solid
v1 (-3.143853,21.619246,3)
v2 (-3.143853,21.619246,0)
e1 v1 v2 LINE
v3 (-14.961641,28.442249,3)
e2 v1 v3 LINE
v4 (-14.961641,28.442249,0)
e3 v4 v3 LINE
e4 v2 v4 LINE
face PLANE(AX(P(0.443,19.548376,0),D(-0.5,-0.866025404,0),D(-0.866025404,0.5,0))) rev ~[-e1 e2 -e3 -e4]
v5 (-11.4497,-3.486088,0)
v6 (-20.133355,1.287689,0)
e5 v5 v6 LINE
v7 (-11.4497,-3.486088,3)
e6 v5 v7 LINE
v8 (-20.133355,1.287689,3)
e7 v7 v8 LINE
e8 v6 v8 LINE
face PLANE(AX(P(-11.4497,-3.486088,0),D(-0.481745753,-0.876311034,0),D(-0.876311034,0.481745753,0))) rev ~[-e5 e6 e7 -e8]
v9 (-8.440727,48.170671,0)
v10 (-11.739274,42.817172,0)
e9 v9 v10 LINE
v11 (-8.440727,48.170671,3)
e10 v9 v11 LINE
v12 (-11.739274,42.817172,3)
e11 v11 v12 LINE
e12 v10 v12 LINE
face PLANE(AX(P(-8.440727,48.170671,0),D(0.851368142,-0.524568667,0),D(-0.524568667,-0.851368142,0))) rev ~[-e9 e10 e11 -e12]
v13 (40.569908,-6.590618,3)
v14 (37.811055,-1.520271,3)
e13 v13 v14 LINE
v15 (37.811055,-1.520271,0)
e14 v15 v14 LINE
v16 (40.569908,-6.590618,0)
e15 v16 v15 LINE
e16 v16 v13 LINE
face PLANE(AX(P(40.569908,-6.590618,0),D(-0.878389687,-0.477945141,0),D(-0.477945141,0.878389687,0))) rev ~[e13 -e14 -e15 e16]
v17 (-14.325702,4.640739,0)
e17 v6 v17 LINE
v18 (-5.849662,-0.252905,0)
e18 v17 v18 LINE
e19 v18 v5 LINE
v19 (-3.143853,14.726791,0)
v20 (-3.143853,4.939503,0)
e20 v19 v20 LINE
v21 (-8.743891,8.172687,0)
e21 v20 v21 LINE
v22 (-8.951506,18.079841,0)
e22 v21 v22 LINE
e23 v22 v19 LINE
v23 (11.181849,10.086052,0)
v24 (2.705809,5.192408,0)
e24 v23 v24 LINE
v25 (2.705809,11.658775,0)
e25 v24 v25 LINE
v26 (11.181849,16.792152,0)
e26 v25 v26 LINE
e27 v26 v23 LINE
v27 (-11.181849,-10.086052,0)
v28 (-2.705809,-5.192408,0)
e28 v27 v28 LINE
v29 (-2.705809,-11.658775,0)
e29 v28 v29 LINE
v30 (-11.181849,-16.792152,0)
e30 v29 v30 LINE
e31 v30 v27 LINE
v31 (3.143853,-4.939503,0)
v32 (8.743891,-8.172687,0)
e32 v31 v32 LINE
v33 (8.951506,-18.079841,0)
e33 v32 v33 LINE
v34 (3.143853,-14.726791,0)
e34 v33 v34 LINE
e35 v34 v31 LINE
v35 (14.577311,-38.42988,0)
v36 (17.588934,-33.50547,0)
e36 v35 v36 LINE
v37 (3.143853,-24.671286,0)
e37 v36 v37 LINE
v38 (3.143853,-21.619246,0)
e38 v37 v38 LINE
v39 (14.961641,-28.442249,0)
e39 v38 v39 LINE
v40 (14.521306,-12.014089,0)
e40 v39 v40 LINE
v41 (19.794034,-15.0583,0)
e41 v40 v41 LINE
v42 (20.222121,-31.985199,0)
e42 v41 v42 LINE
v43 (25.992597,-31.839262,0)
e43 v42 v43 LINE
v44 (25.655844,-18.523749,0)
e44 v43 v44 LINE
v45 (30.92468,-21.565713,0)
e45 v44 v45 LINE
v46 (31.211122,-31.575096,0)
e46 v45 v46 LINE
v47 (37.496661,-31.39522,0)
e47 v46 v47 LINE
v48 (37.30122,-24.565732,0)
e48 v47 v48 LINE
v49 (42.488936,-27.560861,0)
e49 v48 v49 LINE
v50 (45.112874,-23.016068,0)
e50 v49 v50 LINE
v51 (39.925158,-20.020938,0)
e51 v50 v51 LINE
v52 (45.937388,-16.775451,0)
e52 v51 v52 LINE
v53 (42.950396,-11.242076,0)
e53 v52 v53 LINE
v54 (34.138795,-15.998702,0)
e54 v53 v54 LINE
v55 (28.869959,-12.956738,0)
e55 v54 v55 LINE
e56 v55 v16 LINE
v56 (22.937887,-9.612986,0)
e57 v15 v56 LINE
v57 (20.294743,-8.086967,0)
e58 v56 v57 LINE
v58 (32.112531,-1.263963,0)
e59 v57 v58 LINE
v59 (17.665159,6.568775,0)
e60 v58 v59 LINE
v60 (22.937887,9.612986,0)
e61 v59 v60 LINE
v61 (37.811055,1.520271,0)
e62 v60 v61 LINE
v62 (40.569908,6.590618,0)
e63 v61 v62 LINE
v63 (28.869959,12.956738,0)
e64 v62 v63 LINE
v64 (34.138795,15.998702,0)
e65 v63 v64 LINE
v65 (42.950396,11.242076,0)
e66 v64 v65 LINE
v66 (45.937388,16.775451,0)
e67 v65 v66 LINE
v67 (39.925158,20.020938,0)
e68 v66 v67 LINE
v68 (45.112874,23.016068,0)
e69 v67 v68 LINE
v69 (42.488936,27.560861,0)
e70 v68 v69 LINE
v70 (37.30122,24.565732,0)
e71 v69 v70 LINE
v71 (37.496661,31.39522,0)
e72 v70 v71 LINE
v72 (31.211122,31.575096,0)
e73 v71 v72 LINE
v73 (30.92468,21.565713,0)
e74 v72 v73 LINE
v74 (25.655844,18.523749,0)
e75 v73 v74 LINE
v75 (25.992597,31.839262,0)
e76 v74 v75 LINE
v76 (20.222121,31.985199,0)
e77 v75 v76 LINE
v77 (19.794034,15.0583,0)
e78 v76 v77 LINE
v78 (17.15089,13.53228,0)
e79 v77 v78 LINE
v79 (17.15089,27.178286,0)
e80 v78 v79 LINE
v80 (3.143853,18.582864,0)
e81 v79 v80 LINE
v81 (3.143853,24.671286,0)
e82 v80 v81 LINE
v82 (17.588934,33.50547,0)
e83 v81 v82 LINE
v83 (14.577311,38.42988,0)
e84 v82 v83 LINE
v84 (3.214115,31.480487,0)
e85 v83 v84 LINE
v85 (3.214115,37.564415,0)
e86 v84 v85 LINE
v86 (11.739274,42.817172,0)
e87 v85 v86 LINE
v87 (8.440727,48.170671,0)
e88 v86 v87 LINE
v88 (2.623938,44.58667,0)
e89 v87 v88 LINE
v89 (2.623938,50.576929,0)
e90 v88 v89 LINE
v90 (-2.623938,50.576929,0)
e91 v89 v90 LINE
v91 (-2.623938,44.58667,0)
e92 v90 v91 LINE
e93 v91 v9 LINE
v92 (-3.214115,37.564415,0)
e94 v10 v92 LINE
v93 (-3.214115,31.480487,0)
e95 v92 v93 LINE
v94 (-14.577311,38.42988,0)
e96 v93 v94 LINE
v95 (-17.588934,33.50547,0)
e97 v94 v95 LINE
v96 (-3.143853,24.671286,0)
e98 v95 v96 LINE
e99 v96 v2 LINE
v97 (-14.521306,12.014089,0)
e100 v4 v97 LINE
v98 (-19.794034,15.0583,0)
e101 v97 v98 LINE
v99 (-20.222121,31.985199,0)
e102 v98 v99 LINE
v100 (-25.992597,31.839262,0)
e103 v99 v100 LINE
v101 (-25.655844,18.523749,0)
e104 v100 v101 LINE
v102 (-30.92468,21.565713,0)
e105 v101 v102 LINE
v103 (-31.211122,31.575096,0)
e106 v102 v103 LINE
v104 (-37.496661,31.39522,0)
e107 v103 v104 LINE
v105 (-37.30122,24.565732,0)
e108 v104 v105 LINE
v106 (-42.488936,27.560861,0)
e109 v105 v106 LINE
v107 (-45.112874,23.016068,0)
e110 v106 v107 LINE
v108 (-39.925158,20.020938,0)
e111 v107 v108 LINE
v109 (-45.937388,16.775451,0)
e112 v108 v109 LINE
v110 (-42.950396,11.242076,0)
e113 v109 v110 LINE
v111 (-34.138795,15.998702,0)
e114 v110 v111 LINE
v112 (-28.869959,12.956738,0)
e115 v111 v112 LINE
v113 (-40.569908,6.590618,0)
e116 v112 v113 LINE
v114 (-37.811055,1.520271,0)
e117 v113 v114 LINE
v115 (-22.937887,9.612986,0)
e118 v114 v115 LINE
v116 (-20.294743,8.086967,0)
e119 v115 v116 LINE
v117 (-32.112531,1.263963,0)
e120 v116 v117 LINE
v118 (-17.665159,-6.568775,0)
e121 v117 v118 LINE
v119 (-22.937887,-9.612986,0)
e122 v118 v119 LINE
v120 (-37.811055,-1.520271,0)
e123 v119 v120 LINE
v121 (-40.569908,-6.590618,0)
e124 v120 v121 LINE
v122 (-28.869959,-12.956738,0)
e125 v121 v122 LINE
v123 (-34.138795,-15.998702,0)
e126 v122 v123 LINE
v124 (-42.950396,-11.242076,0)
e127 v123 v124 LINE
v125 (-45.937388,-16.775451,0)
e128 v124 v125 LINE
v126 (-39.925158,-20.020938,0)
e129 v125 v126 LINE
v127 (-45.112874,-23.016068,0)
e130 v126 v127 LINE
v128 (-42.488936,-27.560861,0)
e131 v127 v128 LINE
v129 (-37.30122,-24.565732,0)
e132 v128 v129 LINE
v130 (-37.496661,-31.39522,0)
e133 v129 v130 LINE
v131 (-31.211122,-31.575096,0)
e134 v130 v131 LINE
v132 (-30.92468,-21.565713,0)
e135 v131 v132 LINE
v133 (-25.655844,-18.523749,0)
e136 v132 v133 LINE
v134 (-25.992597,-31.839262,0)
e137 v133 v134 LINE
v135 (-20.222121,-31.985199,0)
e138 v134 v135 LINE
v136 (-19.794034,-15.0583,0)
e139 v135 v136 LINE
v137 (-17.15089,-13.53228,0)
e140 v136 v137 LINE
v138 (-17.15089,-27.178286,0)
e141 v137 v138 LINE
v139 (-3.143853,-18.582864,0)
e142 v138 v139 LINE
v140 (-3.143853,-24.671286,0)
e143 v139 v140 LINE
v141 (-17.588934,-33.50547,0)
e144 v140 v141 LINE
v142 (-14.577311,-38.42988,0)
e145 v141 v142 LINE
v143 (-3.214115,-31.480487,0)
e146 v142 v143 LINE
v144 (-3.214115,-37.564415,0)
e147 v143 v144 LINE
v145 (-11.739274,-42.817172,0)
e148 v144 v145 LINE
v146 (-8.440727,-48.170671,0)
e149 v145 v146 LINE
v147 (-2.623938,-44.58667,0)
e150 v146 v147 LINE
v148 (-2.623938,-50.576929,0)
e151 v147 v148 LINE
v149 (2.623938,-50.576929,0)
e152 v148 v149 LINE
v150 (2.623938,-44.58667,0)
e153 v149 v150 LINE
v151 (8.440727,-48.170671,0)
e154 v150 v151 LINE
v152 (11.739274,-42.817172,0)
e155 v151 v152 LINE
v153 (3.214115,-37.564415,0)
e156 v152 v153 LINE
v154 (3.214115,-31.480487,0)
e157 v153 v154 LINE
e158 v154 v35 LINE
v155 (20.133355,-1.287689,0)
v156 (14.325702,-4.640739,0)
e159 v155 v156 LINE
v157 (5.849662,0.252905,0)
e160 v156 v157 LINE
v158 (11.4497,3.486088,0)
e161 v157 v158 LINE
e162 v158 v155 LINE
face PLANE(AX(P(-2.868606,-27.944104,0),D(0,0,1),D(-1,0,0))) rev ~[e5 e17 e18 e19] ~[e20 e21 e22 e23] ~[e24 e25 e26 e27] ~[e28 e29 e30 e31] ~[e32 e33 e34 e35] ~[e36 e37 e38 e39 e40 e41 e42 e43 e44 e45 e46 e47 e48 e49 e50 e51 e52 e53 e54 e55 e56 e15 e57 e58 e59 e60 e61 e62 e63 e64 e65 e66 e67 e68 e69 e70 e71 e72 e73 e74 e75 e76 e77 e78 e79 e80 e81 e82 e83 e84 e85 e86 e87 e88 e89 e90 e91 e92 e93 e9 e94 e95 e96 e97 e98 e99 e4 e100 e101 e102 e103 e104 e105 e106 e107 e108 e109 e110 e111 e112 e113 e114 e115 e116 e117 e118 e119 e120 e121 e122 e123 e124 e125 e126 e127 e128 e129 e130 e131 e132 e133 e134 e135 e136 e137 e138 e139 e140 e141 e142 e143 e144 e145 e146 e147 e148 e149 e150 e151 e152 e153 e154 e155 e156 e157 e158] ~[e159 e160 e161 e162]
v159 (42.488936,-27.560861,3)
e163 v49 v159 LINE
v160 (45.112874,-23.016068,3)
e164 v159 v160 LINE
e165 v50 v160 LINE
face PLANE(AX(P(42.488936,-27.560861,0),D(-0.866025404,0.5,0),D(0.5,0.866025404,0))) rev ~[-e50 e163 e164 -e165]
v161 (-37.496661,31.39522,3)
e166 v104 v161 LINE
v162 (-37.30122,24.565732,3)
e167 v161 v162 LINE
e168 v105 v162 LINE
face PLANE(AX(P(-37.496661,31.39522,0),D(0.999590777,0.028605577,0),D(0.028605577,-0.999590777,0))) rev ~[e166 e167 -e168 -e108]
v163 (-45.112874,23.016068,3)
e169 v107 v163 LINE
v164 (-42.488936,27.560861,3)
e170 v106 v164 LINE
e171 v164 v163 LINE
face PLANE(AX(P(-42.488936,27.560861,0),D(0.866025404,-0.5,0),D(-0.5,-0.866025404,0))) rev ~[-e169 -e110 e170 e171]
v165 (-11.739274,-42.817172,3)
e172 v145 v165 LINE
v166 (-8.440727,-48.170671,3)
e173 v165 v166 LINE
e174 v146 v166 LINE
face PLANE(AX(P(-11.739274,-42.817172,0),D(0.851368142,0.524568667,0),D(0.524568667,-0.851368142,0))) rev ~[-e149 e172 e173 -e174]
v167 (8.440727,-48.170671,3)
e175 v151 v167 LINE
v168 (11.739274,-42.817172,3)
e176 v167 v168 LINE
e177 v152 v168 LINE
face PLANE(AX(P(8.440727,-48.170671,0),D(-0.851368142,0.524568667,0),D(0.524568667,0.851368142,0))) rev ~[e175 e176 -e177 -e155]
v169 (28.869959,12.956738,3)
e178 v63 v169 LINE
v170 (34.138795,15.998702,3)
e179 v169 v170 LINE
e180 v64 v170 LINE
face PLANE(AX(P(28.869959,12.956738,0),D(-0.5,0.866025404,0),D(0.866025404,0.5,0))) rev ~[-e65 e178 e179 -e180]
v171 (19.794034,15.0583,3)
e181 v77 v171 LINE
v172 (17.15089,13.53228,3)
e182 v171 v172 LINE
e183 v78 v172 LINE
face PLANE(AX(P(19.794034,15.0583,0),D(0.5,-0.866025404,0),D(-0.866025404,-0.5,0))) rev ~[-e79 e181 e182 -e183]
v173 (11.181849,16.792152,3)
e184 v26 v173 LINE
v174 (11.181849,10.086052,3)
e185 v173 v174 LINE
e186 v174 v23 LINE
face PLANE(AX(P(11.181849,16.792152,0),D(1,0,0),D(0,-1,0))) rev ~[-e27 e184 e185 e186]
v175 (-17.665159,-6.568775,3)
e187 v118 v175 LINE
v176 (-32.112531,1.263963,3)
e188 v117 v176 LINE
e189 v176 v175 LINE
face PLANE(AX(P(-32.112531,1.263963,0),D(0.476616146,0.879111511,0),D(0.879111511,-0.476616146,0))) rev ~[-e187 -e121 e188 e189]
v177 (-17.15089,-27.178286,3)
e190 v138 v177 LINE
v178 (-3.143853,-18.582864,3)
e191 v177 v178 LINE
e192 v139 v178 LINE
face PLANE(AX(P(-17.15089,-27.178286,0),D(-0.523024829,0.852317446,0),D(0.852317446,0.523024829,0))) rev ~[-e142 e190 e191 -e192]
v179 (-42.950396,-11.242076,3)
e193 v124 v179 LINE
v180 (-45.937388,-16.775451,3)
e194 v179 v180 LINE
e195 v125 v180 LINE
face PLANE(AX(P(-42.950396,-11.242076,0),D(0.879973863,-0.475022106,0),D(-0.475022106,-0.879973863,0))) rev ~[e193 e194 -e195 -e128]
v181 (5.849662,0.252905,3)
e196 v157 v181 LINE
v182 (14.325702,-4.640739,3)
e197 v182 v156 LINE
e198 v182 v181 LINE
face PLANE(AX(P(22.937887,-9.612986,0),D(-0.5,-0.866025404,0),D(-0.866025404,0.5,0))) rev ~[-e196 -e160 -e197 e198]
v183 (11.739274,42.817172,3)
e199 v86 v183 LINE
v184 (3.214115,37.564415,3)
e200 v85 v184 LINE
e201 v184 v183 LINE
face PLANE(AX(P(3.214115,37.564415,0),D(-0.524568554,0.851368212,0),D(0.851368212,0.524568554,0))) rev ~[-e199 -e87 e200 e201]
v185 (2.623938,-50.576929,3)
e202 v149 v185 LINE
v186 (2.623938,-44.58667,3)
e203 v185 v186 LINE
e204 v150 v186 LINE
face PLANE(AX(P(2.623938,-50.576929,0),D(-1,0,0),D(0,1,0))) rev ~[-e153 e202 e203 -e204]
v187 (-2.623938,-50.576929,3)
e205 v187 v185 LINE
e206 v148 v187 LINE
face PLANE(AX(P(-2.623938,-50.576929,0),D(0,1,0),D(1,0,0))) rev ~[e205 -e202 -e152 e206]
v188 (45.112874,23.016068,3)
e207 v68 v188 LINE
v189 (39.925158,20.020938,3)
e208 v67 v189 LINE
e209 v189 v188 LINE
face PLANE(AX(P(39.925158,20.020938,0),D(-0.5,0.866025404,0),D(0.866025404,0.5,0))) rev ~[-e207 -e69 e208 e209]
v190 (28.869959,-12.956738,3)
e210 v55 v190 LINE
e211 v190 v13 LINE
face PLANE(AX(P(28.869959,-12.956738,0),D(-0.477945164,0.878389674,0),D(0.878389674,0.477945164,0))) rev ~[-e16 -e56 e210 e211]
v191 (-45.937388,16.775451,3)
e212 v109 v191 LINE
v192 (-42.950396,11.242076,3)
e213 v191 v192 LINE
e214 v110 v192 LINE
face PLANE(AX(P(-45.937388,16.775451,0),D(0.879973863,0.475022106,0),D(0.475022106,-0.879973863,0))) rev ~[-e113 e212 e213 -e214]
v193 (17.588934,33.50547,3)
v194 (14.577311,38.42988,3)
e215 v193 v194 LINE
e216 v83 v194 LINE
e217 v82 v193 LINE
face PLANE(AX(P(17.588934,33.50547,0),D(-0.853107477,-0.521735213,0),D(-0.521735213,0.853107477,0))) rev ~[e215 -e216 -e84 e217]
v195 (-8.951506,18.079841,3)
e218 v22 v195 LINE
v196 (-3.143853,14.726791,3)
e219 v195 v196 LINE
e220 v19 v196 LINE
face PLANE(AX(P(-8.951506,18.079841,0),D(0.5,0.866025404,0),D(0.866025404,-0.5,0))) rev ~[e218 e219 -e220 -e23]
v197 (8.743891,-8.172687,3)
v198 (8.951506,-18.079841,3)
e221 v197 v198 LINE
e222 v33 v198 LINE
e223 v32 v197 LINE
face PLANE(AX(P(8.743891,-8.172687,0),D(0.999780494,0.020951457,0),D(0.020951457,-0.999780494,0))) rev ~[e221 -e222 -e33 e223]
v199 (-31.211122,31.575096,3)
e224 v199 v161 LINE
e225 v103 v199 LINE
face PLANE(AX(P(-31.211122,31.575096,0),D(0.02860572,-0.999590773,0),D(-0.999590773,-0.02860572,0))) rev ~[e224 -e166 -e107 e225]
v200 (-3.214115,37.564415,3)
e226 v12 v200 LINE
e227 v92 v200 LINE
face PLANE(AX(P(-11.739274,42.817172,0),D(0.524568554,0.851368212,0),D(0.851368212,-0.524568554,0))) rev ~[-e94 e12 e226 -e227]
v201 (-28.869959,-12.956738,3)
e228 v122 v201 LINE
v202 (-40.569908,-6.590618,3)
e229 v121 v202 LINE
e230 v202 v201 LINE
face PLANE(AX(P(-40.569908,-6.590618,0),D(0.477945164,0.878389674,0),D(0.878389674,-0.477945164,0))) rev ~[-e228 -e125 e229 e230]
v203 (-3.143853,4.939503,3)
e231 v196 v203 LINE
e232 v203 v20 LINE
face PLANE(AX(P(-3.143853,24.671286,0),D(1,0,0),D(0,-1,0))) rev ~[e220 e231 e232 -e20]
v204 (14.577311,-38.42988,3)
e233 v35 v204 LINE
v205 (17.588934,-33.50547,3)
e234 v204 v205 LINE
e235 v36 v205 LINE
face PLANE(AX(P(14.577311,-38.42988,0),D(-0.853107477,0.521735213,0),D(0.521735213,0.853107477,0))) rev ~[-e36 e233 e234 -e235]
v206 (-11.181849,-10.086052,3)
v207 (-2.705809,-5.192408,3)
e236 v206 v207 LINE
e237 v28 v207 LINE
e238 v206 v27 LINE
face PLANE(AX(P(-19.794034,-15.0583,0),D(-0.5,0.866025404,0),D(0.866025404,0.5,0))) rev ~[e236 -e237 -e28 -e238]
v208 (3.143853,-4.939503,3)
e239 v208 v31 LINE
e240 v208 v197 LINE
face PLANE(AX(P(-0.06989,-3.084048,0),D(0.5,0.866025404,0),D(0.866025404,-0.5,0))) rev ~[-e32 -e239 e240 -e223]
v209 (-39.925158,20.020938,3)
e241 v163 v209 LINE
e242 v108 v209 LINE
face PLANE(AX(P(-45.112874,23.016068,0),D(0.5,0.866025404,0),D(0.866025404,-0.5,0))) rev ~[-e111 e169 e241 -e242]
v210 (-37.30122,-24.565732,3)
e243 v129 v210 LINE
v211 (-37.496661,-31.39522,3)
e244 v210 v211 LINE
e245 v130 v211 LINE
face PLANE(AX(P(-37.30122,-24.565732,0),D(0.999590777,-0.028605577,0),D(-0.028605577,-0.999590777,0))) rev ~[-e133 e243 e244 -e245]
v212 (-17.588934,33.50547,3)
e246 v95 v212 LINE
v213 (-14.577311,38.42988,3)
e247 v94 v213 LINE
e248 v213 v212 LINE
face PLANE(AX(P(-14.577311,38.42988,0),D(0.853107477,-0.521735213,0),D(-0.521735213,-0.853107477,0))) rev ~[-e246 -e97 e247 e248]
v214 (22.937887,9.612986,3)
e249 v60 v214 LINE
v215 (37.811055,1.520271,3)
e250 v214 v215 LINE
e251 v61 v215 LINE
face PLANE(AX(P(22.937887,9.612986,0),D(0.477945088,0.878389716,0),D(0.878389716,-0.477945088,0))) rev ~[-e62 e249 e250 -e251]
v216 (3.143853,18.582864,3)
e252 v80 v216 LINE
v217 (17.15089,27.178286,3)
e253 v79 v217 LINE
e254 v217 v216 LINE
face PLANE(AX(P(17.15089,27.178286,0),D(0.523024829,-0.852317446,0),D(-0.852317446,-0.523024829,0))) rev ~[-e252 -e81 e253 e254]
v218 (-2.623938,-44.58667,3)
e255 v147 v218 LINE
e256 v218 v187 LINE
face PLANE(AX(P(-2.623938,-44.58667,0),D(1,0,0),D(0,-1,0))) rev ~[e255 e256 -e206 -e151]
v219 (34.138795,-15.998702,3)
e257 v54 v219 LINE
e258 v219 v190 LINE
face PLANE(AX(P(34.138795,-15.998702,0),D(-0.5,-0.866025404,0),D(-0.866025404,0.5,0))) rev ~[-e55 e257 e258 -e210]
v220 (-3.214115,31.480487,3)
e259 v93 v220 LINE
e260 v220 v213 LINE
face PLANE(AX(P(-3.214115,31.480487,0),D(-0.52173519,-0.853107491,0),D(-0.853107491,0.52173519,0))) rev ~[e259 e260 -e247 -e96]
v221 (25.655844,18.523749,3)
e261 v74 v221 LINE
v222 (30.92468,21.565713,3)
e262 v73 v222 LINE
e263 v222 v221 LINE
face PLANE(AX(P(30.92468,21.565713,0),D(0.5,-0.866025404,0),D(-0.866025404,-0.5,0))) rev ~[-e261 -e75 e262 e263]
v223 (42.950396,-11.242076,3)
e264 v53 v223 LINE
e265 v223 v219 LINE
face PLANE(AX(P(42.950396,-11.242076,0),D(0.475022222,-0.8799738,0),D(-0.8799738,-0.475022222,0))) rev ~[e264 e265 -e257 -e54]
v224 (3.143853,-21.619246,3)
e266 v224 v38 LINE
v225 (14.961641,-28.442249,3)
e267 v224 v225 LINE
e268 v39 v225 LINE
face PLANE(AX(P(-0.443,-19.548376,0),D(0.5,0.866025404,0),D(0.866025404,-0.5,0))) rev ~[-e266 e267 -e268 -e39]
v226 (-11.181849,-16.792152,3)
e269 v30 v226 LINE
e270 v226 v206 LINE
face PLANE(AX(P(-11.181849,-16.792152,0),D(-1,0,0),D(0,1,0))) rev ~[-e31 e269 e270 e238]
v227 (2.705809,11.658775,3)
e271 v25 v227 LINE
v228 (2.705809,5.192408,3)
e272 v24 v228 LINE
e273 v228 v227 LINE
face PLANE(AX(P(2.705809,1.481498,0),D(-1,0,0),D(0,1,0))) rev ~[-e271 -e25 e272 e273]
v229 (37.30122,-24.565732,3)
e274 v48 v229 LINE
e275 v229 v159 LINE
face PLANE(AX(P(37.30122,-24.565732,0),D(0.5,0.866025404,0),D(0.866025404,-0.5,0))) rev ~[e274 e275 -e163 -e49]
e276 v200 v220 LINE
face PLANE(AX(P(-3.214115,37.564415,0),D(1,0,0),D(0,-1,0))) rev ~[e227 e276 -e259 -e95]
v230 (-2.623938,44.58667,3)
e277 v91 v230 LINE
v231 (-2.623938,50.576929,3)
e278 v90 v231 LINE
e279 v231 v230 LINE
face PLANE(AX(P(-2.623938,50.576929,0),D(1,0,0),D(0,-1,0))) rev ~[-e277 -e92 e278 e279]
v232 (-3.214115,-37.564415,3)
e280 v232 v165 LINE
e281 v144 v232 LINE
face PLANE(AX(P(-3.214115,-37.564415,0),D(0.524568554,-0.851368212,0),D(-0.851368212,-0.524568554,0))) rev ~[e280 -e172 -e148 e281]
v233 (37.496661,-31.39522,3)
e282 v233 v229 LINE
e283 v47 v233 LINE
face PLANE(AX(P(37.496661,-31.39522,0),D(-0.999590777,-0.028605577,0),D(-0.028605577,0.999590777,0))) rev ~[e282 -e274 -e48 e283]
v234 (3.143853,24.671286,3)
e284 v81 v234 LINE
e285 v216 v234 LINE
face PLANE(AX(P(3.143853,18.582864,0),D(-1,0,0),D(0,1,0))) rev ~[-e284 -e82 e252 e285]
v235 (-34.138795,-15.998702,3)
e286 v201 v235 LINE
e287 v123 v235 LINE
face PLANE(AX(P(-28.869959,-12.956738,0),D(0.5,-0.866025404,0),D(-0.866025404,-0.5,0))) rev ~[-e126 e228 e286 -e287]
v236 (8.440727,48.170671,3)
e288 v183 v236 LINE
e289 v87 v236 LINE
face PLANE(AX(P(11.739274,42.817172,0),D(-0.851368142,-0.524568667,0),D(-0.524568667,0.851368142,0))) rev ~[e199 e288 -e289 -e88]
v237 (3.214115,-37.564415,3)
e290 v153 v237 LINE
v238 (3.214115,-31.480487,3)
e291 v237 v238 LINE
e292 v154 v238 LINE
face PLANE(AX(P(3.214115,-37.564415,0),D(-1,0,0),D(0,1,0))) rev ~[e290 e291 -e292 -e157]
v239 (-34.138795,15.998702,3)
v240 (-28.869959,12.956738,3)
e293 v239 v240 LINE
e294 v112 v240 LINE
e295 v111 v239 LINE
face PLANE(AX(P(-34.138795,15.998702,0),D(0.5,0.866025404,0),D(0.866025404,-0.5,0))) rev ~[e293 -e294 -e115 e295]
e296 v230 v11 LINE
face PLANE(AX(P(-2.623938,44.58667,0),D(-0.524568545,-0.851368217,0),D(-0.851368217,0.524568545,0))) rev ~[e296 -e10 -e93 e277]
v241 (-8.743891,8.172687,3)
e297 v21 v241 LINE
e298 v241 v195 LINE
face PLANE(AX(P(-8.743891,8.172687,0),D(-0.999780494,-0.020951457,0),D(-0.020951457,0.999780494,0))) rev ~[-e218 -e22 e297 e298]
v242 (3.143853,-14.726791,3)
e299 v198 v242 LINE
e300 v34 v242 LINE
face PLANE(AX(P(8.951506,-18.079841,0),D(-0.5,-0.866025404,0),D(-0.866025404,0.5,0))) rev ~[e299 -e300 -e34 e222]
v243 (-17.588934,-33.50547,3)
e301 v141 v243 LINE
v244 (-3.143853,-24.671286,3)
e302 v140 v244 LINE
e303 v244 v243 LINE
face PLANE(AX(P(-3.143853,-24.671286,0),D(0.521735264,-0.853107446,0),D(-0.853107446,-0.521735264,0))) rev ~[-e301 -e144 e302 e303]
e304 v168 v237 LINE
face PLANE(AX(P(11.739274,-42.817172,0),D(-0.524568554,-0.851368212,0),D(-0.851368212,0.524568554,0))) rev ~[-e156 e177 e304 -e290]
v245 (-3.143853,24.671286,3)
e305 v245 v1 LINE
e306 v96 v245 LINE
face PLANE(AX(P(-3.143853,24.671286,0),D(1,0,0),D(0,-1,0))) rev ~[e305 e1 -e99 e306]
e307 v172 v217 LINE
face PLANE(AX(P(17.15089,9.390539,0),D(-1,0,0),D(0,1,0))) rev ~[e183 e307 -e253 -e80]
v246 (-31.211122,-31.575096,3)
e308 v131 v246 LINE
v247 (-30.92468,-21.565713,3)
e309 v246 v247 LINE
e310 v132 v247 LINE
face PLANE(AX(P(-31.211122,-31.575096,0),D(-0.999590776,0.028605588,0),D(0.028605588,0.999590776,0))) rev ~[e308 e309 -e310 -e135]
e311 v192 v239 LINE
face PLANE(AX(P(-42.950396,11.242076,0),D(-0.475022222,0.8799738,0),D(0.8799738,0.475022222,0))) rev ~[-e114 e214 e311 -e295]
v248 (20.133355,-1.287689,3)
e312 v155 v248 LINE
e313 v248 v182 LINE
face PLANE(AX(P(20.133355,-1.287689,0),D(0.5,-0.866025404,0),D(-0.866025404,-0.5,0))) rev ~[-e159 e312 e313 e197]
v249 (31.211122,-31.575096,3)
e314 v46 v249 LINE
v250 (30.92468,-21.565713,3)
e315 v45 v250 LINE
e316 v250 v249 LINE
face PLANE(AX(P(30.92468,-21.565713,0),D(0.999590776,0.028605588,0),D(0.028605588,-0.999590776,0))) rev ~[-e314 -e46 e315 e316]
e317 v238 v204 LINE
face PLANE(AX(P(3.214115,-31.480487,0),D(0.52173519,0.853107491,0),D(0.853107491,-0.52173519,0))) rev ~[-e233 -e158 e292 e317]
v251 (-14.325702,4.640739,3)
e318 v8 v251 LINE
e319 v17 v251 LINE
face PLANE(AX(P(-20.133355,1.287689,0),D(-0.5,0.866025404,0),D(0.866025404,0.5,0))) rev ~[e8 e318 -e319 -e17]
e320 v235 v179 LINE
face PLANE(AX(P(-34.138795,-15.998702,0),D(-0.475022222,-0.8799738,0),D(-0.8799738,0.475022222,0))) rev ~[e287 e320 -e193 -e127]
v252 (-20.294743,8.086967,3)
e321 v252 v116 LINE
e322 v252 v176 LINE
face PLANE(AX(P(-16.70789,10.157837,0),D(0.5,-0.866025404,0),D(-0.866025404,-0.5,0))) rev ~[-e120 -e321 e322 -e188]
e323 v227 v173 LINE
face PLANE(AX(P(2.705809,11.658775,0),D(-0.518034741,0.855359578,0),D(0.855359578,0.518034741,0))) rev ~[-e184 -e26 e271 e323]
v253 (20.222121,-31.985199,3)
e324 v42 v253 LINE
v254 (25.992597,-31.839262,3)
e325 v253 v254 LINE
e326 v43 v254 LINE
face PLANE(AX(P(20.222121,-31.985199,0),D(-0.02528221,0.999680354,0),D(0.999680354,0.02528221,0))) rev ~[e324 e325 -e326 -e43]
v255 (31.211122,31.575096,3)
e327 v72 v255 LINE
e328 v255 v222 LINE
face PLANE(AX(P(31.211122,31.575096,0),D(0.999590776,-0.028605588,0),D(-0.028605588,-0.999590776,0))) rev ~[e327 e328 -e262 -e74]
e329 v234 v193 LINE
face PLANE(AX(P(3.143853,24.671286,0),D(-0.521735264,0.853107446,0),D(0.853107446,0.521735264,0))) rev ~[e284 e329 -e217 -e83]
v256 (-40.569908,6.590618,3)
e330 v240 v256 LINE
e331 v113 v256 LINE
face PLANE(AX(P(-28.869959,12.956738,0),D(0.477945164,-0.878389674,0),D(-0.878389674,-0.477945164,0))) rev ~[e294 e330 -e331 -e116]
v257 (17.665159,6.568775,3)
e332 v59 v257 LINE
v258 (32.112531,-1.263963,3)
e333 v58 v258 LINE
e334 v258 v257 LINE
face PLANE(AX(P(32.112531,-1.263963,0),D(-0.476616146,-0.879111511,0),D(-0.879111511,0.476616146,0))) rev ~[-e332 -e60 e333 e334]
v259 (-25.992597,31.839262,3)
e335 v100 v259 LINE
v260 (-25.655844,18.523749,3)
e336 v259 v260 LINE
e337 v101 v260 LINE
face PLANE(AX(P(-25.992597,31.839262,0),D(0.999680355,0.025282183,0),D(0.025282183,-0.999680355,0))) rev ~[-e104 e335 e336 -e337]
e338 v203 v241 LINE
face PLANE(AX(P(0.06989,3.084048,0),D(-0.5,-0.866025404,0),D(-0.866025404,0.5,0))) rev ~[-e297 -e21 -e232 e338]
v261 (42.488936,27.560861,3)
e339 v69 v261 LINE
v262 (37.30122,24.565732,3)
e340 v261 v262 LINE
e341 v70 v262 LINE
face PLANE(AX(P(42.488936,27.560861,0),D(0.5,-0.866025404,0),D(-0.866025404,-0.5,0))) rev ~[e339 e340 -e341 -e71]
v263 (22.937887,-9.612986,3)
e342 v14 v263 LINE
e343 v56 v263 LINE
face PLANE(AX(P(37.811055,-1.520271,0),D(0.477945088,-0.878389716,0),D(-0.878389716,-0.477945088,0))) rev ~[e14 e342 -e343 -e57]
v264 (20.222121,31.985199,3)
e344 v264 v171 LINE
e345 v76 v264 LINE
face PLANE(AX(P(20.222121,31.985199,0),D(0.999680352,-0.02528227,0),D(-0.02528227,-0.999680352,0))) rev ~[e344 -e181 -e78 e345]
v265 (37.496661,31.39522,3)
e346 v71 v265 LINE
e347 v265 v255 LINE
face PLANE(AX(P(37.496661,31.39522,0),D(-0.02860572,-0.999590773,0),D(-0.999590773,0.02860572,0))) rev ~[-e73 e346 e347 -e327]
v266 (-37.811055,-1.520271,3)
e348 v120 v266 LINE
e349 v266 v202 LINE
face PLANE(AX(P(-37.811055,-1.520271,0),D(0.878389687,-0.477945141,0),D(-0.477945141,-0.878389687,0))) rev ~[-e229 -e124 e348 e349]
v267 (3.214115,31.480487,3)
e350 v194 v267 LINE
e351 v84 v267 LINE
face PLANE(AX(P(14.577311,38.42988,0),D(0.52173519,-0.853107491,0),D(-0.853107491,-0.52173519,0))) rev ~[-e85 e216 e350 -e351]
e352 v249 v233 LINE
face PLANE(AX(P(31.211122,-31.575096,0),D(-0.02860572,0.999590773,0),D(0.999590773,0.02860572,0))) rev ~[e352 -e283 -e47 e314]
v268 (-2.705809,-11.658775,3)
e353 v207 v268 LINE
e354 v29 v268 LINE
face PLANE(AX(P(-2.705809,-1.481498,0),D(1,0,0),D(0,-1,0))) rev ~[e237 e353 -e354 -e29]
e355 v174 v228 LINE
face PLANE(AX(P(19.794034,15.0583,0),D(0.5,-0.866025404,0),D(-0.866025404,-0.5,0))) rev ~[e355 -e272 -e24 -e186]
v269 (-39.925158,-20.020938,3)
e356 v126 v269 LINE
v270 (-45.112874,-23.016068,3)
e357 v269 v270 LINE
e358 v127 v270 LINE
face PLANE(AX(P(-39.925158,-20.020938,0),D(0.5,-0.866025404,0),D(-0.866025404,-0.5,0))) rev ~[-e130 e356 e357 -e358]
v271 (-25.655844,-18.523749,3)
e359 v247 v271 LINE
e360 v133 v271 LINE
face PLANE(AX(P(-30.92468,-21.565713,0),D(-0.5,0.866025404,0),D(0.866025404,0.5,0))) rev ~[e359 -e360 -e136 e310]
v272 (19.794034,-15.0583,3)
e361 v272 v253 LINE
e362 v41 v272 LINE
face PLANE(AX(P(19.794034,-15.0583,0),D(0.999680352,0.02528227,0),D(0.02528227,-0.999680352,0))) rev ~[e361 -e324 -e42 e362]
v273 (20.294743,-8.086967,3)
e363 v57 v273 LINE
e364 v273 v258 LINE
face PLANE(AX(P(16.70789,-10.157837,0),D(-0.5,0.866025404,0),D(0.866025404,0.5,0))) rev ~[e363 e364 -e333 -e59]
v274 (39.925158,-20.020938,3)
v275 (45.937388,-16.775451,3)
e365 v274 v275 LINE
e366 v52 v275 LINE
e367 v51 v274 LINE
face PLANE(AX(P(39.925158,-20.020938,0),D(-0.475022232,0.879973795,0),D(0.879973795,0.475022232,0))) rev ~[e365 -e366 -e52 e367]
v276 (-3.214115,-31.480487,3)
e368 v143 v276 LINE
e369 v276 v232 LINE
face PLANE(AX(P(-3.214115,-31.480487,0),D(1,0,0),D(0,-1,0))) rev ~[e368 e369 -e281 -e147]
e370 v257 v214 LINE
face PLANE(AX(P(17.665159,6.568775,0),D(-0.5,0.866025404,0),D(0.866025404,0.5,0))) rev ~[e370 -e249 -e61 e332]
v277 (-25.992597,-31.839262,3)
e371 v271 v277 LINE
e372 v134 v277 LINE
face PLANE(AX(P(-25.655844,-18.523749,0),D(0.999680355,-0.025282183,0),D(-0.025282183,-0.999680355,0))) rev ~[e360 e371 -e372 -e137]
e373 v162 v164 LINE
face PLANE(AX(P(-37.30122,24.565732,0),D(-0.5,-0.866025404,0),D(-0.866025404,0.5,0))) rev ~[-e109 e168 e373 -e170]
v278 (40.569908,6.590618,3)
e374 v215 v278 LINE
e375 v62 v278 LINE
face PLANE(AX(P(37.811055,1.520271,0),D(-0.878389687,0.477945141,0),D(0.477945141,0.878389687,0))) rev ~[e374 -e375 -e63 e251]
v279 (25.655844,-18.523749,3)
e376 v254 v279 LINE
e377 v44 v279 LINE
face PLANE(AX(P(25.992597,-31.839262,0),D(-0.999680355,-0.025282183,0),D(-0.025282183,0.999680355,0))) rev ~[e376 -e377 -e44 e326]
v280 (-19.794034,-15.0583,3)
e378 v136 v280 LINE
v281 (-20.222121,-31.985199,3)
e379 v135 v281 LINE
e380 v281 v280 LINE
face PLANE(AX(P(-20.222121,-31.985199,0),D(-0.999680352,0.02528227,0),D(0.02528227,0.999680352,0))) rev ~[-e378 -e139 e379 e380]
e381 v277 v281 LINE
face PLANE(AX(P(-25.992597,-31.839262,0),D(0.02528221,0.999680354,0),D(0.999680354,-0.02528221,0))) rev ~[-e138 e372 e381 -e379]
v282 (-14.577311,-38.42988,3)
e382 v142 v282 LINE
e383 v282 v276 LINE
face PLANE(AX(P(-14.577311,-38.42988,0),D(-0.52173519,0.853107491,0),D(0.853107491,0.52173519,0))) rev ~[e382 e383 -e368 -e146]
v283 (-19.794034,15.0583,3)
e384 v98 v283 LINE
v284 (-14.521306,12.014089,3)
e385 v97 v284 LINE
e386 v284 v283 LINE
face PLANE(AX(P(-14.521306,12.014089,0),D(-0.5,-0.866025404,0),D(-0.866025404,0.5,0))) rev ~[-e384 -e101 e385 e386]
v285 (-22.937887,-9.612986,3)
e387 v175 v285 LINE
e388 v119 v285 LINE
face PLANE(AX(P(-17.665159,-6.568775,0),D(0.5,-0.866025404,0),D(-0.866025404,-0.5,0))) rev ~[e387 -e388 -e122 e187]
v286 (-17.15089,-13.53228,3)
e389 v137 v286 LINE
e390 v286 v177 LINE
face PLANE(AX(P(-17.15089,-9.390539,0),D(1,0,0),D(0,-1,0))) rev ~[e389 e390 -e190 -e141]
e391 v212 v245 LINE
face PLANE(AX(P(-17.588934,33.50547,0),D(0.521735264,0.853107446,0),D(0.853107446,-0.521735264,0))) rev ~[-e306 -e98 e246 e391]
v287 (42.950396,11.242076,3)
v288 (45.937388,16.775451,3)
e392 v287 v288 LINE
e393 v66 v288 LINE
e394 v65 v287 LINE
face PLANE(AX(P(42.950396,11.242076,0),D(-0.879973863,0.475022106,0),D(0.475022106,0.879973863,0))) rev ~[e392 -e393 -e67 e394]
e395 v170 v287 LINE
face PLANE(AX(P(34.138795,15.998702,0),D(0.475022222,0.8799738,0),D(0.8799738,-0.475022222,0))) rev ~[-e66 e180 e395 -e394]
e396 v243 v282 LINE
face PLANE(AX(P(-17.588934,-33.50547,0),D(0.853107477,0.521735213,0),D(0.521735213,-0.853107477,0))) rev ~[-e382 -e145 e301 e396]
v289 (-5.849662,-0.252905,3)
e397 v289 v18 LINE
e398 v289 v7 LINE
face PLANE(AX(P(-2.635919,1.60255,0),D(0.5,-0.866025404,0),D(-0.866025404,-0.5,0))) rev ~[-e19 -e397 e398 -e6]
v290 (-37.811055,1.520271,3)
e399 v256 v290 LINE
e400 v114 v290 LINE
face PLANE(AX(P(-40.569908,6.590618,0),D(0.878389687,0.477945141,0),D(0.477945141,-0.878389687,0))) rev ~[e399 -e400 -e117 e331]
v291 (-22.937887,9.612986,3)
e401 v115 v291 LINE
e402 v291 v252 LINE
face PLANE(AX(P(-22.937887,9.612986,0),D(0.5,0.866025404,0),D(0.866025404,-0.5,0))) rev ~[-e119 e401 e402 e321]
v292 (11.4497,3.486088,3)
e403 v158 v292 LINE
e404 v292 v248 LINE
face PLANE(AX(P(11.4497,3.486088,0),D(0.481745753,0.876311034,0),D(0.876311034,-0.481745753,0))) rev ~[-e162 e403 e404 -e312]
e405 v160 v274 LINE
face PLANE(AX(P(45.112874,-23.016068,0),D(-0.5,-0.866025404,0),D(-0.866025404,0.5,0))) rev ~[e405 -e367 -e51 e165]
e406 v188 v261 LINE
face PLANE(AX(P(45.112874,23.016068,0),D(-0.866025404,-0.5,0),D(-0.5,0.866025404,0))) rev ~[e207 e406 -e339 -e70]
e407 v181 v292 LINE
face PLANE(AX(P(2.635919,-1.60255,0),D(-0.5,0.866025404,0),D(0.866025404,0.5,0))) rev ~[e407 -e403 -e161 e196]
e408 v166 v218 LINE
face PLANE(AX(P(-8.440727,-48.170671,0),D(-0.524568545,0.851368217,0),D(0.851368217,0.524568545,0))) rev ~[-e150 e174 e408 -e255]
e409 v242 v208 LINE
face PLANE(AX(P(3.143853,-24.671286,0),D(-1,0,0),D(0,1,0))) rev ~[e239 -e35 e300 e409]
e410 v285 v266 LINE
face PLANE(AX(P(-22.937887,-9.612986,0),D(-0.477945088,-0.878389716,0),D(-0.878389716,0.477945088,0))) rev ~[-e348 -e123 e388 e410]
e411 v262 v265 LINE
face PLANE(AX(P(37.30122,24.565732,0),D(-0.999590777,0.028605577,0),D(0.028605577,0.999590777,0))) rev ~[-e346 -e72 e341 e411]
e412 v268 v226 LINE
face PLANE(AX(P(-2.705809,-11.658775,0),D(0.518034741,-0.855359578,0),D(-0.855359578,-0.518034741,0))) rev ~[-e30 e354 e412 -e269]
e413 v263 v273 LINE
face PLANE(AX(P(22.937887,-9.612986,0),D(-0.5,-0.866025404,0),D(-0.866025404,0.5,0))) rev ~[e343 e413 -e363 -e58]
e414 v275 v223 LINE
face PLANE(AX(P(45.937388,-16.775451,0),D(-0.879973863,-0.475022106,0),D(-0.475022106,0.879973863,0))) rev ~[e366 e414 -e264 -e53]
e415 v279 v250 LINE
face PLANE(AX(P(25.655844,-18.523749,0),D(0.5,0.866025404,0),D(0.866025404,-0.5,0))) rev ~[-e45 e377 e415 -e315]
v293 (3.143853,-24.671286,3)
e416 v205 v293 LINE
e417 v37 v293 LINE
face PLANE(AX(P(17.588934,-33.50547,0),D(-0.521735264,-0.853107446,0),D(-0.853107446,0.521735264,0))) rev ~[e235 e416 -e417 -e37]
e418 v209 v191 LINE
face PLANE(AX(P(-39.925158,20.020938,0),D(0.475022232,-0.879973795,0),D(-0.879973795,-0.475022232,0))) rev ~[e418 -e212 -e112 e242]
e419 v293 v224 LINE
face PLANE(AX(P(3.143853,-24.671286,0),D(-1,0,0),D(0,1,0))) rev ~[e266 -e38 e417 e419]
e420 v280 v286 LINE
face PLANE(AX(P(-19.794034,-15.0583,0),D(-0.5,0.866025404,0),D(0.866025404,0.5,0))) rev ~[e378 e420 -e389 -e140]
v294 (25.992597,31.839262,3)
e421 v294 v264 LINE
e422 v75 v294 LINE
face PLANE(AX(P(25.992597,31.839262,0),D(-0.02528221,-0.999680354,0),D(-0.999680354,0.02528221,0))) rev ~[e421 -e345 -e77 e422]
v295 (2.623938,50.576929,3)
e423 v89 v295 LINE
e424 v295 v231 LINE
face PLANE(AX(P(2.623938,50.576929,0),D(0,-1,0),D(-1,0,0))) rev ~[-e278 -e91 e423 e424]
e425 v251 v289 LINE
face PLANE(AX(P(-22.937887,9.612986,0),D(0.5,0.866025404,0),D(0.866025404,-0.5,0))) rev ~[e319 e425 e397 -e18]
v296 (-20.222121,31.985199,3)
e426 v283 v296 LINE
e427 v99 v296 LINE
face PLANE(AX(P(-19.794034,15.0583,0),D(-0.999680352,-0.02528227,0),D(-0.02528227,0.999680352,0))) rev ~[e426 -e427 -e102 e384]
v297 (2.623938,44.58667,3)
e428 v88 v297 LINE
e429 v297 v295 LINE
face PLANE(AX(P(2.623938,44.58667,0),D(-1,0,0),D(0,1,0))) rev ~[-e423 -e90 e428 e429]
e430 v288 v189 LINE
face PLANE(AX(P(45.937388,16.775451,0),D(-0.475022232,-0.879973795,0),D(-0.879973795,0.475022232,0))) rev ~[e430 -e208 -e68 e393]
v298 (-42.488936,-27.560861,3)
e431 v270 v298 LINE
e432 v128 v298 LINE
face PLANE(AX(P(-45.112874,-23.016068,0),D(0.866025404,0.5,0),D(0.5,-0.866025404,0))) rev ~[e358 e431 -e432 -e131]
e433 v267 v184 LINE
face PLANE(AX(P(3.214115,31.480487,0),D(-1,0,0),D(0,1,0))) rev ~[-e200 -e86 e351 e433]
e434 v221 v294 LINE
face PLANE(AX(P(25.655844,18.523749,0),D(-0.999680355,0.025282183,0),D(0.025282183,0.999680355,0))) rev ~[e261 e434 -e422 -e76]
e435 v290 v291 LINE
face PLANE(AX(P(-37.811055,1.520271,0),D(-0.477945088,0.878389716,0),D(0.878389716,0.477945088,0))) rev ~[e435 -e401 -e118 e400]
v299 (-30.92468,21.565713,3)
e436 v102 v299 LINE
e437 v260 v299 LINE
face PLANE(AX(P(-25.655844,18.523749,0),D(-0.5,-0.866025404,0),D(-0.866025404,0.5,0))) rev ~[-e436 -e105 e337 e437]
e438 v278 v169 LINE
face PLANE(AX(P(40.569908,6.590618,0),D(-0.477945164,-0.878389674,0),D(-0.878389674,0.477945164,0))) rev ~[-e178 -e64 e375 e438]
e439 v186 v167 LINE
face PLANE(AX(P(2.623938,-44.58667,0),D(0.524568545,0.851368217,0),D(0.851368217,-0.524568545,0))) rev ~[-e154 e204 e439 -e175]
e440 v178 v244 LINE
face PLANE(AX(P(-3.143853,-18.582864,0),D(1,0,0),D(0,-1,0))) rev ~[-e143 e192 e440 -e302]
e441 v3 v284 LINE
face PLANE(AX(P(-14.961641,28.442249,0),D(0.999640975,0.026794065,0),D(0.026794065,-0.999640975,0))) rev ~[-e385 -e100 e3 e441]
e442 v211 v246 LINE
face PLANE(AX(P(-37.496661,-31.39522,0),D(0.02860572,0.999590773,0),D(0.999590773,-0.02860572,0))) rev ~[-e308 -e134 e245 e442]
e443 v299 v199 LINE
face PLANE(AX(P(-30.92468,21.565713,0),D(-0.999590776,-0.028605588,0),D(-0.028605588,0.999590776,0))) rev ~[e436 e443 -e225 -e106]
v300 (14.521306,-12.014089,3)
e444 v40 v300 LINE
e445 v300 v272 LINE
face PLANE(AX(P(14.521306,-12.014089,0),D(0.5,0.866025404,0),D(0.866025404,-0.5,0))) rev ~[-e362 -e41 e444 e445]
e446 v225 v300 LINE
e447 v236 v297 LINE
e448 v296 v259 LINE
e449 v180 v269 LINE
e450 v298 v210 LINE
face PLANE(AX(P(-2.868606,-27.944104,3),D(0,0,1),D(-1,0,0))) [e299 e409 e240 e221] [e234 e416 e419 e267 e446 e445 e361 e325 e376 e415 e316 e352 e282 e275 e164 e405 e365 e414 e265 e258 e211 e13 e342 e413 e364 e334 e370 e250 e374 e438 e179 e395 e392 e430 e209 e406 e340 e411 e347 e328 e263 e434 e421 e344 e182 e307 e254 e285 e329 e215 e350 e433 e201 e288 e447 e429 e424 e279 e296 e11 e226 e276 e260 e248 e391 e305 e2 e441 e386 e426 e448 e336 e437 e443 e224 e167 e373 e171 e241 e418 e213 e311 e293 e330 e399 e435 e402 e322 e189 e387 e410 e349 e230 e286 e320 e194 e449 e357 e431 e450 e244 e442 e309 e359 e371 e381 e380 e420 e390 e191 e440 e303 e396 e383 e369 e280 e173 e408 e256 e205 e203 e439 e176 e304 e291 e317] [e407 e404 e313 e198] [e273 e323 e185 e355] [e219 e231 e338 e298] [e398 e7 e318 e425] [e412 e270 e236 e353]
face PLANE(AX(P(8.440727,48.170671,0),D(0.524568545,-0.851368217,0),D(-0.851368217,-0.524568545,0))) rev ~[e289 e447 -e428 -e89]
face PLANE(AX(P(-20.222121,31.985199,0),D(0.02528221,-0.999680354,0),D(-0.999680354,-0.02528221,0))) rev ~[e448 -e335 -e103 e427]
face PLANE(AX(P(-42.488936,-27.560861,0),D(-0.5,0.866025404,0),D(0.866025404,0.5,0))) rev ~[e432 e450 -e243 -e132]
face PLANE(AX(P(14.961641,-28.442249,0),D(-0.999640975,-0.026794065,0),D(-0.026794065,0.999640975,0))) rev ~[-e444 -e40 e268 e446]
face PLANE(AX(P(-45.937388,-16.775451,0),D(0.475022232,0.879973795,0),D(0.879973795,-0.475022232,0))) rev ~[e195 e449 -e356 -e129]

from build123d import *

# Parameters (mm, degrees)
F2_DEPTH = 3
F4_COUNT = 6


with BuildPart() as f2:
    # F1 (on Top) → F2 (new body)
    with BuildSketch(Plane.XY):
        Polygon((-3.143853, 2.46645), (0, 0), (2.705809, 1.481498), (2.705809, 11.658775), (11.181849, 16.792152), (11.181849, 6.122341), (17.15089, 9.390539), (17.15089, 27.178286), (3.143853, 18.582864), (3.143853, 24.671286), (17.588934, 33.50547), (14.577311, 38.42988), (3.214115, 31.480487), (3.214115, 37.564415), (11.739274, 42.817172), (8.440727, 48.170671), (2.623938, 44.58667), (2.623938, 50.576929), (0, 50.576929), (-2.623938, 50.576929), (-2.623938, 44.58667), (-8.440727, 48.170671), (-11.739274, 42.817172), (-3.214115, 37.564415), (-3.214115, 31.480487), (-14.577311, 38.42988), (-17.588934, 33.50547), (-3.143853, 24.671286), align=None)
    extrude(amount=F2_DEPTH)


with BuildPart() as f4_1:
    # F4: instance of F2
    add(f2.part.rotate(Axis((0, 0, 4.922884), (0, 0, 1)), 1 * 360 / F4_COUNT))


with BuildPart() as f4_2:
    # F4: instance of F2
    add(f2.part.rotate(Axis((0, 0, 4.922884), (0, 0, 1)), 2 * 360 / F4_COUNT))


with BuildPart() as f4_3:
    # F4: instance of F2
    add(f2.part.rotate(Axis((0, 0, 4.922884), (0, 0, 1)), 3 * 360 / F4_COUNT))


with BuildPart() as f4_4:
    # F4: instance of F2
    add(f2.part.rotate(Axis((0, 0, 4.922884), (0, 0, 1)), 4 * 360 / F4_COUNT))


with BuildPart() as f4_5:
    # F4: instance of F2
    add(f2.part.rotate(Axis((0, 0, 4.922884), (0, 0, 1)), 5 * 360 / F4_COUNT))


with BuildPart() as f2_1:
    add(f2.part)

    # F5: union F4_5, F4_3, F4_1, F4_2, F4_4
    add(f4_5.part)
    add(f4_3.part)
    add(f4_1.part)
    add(f4_2.part)
    add(f4_4.part)


solid = f2_1.part
